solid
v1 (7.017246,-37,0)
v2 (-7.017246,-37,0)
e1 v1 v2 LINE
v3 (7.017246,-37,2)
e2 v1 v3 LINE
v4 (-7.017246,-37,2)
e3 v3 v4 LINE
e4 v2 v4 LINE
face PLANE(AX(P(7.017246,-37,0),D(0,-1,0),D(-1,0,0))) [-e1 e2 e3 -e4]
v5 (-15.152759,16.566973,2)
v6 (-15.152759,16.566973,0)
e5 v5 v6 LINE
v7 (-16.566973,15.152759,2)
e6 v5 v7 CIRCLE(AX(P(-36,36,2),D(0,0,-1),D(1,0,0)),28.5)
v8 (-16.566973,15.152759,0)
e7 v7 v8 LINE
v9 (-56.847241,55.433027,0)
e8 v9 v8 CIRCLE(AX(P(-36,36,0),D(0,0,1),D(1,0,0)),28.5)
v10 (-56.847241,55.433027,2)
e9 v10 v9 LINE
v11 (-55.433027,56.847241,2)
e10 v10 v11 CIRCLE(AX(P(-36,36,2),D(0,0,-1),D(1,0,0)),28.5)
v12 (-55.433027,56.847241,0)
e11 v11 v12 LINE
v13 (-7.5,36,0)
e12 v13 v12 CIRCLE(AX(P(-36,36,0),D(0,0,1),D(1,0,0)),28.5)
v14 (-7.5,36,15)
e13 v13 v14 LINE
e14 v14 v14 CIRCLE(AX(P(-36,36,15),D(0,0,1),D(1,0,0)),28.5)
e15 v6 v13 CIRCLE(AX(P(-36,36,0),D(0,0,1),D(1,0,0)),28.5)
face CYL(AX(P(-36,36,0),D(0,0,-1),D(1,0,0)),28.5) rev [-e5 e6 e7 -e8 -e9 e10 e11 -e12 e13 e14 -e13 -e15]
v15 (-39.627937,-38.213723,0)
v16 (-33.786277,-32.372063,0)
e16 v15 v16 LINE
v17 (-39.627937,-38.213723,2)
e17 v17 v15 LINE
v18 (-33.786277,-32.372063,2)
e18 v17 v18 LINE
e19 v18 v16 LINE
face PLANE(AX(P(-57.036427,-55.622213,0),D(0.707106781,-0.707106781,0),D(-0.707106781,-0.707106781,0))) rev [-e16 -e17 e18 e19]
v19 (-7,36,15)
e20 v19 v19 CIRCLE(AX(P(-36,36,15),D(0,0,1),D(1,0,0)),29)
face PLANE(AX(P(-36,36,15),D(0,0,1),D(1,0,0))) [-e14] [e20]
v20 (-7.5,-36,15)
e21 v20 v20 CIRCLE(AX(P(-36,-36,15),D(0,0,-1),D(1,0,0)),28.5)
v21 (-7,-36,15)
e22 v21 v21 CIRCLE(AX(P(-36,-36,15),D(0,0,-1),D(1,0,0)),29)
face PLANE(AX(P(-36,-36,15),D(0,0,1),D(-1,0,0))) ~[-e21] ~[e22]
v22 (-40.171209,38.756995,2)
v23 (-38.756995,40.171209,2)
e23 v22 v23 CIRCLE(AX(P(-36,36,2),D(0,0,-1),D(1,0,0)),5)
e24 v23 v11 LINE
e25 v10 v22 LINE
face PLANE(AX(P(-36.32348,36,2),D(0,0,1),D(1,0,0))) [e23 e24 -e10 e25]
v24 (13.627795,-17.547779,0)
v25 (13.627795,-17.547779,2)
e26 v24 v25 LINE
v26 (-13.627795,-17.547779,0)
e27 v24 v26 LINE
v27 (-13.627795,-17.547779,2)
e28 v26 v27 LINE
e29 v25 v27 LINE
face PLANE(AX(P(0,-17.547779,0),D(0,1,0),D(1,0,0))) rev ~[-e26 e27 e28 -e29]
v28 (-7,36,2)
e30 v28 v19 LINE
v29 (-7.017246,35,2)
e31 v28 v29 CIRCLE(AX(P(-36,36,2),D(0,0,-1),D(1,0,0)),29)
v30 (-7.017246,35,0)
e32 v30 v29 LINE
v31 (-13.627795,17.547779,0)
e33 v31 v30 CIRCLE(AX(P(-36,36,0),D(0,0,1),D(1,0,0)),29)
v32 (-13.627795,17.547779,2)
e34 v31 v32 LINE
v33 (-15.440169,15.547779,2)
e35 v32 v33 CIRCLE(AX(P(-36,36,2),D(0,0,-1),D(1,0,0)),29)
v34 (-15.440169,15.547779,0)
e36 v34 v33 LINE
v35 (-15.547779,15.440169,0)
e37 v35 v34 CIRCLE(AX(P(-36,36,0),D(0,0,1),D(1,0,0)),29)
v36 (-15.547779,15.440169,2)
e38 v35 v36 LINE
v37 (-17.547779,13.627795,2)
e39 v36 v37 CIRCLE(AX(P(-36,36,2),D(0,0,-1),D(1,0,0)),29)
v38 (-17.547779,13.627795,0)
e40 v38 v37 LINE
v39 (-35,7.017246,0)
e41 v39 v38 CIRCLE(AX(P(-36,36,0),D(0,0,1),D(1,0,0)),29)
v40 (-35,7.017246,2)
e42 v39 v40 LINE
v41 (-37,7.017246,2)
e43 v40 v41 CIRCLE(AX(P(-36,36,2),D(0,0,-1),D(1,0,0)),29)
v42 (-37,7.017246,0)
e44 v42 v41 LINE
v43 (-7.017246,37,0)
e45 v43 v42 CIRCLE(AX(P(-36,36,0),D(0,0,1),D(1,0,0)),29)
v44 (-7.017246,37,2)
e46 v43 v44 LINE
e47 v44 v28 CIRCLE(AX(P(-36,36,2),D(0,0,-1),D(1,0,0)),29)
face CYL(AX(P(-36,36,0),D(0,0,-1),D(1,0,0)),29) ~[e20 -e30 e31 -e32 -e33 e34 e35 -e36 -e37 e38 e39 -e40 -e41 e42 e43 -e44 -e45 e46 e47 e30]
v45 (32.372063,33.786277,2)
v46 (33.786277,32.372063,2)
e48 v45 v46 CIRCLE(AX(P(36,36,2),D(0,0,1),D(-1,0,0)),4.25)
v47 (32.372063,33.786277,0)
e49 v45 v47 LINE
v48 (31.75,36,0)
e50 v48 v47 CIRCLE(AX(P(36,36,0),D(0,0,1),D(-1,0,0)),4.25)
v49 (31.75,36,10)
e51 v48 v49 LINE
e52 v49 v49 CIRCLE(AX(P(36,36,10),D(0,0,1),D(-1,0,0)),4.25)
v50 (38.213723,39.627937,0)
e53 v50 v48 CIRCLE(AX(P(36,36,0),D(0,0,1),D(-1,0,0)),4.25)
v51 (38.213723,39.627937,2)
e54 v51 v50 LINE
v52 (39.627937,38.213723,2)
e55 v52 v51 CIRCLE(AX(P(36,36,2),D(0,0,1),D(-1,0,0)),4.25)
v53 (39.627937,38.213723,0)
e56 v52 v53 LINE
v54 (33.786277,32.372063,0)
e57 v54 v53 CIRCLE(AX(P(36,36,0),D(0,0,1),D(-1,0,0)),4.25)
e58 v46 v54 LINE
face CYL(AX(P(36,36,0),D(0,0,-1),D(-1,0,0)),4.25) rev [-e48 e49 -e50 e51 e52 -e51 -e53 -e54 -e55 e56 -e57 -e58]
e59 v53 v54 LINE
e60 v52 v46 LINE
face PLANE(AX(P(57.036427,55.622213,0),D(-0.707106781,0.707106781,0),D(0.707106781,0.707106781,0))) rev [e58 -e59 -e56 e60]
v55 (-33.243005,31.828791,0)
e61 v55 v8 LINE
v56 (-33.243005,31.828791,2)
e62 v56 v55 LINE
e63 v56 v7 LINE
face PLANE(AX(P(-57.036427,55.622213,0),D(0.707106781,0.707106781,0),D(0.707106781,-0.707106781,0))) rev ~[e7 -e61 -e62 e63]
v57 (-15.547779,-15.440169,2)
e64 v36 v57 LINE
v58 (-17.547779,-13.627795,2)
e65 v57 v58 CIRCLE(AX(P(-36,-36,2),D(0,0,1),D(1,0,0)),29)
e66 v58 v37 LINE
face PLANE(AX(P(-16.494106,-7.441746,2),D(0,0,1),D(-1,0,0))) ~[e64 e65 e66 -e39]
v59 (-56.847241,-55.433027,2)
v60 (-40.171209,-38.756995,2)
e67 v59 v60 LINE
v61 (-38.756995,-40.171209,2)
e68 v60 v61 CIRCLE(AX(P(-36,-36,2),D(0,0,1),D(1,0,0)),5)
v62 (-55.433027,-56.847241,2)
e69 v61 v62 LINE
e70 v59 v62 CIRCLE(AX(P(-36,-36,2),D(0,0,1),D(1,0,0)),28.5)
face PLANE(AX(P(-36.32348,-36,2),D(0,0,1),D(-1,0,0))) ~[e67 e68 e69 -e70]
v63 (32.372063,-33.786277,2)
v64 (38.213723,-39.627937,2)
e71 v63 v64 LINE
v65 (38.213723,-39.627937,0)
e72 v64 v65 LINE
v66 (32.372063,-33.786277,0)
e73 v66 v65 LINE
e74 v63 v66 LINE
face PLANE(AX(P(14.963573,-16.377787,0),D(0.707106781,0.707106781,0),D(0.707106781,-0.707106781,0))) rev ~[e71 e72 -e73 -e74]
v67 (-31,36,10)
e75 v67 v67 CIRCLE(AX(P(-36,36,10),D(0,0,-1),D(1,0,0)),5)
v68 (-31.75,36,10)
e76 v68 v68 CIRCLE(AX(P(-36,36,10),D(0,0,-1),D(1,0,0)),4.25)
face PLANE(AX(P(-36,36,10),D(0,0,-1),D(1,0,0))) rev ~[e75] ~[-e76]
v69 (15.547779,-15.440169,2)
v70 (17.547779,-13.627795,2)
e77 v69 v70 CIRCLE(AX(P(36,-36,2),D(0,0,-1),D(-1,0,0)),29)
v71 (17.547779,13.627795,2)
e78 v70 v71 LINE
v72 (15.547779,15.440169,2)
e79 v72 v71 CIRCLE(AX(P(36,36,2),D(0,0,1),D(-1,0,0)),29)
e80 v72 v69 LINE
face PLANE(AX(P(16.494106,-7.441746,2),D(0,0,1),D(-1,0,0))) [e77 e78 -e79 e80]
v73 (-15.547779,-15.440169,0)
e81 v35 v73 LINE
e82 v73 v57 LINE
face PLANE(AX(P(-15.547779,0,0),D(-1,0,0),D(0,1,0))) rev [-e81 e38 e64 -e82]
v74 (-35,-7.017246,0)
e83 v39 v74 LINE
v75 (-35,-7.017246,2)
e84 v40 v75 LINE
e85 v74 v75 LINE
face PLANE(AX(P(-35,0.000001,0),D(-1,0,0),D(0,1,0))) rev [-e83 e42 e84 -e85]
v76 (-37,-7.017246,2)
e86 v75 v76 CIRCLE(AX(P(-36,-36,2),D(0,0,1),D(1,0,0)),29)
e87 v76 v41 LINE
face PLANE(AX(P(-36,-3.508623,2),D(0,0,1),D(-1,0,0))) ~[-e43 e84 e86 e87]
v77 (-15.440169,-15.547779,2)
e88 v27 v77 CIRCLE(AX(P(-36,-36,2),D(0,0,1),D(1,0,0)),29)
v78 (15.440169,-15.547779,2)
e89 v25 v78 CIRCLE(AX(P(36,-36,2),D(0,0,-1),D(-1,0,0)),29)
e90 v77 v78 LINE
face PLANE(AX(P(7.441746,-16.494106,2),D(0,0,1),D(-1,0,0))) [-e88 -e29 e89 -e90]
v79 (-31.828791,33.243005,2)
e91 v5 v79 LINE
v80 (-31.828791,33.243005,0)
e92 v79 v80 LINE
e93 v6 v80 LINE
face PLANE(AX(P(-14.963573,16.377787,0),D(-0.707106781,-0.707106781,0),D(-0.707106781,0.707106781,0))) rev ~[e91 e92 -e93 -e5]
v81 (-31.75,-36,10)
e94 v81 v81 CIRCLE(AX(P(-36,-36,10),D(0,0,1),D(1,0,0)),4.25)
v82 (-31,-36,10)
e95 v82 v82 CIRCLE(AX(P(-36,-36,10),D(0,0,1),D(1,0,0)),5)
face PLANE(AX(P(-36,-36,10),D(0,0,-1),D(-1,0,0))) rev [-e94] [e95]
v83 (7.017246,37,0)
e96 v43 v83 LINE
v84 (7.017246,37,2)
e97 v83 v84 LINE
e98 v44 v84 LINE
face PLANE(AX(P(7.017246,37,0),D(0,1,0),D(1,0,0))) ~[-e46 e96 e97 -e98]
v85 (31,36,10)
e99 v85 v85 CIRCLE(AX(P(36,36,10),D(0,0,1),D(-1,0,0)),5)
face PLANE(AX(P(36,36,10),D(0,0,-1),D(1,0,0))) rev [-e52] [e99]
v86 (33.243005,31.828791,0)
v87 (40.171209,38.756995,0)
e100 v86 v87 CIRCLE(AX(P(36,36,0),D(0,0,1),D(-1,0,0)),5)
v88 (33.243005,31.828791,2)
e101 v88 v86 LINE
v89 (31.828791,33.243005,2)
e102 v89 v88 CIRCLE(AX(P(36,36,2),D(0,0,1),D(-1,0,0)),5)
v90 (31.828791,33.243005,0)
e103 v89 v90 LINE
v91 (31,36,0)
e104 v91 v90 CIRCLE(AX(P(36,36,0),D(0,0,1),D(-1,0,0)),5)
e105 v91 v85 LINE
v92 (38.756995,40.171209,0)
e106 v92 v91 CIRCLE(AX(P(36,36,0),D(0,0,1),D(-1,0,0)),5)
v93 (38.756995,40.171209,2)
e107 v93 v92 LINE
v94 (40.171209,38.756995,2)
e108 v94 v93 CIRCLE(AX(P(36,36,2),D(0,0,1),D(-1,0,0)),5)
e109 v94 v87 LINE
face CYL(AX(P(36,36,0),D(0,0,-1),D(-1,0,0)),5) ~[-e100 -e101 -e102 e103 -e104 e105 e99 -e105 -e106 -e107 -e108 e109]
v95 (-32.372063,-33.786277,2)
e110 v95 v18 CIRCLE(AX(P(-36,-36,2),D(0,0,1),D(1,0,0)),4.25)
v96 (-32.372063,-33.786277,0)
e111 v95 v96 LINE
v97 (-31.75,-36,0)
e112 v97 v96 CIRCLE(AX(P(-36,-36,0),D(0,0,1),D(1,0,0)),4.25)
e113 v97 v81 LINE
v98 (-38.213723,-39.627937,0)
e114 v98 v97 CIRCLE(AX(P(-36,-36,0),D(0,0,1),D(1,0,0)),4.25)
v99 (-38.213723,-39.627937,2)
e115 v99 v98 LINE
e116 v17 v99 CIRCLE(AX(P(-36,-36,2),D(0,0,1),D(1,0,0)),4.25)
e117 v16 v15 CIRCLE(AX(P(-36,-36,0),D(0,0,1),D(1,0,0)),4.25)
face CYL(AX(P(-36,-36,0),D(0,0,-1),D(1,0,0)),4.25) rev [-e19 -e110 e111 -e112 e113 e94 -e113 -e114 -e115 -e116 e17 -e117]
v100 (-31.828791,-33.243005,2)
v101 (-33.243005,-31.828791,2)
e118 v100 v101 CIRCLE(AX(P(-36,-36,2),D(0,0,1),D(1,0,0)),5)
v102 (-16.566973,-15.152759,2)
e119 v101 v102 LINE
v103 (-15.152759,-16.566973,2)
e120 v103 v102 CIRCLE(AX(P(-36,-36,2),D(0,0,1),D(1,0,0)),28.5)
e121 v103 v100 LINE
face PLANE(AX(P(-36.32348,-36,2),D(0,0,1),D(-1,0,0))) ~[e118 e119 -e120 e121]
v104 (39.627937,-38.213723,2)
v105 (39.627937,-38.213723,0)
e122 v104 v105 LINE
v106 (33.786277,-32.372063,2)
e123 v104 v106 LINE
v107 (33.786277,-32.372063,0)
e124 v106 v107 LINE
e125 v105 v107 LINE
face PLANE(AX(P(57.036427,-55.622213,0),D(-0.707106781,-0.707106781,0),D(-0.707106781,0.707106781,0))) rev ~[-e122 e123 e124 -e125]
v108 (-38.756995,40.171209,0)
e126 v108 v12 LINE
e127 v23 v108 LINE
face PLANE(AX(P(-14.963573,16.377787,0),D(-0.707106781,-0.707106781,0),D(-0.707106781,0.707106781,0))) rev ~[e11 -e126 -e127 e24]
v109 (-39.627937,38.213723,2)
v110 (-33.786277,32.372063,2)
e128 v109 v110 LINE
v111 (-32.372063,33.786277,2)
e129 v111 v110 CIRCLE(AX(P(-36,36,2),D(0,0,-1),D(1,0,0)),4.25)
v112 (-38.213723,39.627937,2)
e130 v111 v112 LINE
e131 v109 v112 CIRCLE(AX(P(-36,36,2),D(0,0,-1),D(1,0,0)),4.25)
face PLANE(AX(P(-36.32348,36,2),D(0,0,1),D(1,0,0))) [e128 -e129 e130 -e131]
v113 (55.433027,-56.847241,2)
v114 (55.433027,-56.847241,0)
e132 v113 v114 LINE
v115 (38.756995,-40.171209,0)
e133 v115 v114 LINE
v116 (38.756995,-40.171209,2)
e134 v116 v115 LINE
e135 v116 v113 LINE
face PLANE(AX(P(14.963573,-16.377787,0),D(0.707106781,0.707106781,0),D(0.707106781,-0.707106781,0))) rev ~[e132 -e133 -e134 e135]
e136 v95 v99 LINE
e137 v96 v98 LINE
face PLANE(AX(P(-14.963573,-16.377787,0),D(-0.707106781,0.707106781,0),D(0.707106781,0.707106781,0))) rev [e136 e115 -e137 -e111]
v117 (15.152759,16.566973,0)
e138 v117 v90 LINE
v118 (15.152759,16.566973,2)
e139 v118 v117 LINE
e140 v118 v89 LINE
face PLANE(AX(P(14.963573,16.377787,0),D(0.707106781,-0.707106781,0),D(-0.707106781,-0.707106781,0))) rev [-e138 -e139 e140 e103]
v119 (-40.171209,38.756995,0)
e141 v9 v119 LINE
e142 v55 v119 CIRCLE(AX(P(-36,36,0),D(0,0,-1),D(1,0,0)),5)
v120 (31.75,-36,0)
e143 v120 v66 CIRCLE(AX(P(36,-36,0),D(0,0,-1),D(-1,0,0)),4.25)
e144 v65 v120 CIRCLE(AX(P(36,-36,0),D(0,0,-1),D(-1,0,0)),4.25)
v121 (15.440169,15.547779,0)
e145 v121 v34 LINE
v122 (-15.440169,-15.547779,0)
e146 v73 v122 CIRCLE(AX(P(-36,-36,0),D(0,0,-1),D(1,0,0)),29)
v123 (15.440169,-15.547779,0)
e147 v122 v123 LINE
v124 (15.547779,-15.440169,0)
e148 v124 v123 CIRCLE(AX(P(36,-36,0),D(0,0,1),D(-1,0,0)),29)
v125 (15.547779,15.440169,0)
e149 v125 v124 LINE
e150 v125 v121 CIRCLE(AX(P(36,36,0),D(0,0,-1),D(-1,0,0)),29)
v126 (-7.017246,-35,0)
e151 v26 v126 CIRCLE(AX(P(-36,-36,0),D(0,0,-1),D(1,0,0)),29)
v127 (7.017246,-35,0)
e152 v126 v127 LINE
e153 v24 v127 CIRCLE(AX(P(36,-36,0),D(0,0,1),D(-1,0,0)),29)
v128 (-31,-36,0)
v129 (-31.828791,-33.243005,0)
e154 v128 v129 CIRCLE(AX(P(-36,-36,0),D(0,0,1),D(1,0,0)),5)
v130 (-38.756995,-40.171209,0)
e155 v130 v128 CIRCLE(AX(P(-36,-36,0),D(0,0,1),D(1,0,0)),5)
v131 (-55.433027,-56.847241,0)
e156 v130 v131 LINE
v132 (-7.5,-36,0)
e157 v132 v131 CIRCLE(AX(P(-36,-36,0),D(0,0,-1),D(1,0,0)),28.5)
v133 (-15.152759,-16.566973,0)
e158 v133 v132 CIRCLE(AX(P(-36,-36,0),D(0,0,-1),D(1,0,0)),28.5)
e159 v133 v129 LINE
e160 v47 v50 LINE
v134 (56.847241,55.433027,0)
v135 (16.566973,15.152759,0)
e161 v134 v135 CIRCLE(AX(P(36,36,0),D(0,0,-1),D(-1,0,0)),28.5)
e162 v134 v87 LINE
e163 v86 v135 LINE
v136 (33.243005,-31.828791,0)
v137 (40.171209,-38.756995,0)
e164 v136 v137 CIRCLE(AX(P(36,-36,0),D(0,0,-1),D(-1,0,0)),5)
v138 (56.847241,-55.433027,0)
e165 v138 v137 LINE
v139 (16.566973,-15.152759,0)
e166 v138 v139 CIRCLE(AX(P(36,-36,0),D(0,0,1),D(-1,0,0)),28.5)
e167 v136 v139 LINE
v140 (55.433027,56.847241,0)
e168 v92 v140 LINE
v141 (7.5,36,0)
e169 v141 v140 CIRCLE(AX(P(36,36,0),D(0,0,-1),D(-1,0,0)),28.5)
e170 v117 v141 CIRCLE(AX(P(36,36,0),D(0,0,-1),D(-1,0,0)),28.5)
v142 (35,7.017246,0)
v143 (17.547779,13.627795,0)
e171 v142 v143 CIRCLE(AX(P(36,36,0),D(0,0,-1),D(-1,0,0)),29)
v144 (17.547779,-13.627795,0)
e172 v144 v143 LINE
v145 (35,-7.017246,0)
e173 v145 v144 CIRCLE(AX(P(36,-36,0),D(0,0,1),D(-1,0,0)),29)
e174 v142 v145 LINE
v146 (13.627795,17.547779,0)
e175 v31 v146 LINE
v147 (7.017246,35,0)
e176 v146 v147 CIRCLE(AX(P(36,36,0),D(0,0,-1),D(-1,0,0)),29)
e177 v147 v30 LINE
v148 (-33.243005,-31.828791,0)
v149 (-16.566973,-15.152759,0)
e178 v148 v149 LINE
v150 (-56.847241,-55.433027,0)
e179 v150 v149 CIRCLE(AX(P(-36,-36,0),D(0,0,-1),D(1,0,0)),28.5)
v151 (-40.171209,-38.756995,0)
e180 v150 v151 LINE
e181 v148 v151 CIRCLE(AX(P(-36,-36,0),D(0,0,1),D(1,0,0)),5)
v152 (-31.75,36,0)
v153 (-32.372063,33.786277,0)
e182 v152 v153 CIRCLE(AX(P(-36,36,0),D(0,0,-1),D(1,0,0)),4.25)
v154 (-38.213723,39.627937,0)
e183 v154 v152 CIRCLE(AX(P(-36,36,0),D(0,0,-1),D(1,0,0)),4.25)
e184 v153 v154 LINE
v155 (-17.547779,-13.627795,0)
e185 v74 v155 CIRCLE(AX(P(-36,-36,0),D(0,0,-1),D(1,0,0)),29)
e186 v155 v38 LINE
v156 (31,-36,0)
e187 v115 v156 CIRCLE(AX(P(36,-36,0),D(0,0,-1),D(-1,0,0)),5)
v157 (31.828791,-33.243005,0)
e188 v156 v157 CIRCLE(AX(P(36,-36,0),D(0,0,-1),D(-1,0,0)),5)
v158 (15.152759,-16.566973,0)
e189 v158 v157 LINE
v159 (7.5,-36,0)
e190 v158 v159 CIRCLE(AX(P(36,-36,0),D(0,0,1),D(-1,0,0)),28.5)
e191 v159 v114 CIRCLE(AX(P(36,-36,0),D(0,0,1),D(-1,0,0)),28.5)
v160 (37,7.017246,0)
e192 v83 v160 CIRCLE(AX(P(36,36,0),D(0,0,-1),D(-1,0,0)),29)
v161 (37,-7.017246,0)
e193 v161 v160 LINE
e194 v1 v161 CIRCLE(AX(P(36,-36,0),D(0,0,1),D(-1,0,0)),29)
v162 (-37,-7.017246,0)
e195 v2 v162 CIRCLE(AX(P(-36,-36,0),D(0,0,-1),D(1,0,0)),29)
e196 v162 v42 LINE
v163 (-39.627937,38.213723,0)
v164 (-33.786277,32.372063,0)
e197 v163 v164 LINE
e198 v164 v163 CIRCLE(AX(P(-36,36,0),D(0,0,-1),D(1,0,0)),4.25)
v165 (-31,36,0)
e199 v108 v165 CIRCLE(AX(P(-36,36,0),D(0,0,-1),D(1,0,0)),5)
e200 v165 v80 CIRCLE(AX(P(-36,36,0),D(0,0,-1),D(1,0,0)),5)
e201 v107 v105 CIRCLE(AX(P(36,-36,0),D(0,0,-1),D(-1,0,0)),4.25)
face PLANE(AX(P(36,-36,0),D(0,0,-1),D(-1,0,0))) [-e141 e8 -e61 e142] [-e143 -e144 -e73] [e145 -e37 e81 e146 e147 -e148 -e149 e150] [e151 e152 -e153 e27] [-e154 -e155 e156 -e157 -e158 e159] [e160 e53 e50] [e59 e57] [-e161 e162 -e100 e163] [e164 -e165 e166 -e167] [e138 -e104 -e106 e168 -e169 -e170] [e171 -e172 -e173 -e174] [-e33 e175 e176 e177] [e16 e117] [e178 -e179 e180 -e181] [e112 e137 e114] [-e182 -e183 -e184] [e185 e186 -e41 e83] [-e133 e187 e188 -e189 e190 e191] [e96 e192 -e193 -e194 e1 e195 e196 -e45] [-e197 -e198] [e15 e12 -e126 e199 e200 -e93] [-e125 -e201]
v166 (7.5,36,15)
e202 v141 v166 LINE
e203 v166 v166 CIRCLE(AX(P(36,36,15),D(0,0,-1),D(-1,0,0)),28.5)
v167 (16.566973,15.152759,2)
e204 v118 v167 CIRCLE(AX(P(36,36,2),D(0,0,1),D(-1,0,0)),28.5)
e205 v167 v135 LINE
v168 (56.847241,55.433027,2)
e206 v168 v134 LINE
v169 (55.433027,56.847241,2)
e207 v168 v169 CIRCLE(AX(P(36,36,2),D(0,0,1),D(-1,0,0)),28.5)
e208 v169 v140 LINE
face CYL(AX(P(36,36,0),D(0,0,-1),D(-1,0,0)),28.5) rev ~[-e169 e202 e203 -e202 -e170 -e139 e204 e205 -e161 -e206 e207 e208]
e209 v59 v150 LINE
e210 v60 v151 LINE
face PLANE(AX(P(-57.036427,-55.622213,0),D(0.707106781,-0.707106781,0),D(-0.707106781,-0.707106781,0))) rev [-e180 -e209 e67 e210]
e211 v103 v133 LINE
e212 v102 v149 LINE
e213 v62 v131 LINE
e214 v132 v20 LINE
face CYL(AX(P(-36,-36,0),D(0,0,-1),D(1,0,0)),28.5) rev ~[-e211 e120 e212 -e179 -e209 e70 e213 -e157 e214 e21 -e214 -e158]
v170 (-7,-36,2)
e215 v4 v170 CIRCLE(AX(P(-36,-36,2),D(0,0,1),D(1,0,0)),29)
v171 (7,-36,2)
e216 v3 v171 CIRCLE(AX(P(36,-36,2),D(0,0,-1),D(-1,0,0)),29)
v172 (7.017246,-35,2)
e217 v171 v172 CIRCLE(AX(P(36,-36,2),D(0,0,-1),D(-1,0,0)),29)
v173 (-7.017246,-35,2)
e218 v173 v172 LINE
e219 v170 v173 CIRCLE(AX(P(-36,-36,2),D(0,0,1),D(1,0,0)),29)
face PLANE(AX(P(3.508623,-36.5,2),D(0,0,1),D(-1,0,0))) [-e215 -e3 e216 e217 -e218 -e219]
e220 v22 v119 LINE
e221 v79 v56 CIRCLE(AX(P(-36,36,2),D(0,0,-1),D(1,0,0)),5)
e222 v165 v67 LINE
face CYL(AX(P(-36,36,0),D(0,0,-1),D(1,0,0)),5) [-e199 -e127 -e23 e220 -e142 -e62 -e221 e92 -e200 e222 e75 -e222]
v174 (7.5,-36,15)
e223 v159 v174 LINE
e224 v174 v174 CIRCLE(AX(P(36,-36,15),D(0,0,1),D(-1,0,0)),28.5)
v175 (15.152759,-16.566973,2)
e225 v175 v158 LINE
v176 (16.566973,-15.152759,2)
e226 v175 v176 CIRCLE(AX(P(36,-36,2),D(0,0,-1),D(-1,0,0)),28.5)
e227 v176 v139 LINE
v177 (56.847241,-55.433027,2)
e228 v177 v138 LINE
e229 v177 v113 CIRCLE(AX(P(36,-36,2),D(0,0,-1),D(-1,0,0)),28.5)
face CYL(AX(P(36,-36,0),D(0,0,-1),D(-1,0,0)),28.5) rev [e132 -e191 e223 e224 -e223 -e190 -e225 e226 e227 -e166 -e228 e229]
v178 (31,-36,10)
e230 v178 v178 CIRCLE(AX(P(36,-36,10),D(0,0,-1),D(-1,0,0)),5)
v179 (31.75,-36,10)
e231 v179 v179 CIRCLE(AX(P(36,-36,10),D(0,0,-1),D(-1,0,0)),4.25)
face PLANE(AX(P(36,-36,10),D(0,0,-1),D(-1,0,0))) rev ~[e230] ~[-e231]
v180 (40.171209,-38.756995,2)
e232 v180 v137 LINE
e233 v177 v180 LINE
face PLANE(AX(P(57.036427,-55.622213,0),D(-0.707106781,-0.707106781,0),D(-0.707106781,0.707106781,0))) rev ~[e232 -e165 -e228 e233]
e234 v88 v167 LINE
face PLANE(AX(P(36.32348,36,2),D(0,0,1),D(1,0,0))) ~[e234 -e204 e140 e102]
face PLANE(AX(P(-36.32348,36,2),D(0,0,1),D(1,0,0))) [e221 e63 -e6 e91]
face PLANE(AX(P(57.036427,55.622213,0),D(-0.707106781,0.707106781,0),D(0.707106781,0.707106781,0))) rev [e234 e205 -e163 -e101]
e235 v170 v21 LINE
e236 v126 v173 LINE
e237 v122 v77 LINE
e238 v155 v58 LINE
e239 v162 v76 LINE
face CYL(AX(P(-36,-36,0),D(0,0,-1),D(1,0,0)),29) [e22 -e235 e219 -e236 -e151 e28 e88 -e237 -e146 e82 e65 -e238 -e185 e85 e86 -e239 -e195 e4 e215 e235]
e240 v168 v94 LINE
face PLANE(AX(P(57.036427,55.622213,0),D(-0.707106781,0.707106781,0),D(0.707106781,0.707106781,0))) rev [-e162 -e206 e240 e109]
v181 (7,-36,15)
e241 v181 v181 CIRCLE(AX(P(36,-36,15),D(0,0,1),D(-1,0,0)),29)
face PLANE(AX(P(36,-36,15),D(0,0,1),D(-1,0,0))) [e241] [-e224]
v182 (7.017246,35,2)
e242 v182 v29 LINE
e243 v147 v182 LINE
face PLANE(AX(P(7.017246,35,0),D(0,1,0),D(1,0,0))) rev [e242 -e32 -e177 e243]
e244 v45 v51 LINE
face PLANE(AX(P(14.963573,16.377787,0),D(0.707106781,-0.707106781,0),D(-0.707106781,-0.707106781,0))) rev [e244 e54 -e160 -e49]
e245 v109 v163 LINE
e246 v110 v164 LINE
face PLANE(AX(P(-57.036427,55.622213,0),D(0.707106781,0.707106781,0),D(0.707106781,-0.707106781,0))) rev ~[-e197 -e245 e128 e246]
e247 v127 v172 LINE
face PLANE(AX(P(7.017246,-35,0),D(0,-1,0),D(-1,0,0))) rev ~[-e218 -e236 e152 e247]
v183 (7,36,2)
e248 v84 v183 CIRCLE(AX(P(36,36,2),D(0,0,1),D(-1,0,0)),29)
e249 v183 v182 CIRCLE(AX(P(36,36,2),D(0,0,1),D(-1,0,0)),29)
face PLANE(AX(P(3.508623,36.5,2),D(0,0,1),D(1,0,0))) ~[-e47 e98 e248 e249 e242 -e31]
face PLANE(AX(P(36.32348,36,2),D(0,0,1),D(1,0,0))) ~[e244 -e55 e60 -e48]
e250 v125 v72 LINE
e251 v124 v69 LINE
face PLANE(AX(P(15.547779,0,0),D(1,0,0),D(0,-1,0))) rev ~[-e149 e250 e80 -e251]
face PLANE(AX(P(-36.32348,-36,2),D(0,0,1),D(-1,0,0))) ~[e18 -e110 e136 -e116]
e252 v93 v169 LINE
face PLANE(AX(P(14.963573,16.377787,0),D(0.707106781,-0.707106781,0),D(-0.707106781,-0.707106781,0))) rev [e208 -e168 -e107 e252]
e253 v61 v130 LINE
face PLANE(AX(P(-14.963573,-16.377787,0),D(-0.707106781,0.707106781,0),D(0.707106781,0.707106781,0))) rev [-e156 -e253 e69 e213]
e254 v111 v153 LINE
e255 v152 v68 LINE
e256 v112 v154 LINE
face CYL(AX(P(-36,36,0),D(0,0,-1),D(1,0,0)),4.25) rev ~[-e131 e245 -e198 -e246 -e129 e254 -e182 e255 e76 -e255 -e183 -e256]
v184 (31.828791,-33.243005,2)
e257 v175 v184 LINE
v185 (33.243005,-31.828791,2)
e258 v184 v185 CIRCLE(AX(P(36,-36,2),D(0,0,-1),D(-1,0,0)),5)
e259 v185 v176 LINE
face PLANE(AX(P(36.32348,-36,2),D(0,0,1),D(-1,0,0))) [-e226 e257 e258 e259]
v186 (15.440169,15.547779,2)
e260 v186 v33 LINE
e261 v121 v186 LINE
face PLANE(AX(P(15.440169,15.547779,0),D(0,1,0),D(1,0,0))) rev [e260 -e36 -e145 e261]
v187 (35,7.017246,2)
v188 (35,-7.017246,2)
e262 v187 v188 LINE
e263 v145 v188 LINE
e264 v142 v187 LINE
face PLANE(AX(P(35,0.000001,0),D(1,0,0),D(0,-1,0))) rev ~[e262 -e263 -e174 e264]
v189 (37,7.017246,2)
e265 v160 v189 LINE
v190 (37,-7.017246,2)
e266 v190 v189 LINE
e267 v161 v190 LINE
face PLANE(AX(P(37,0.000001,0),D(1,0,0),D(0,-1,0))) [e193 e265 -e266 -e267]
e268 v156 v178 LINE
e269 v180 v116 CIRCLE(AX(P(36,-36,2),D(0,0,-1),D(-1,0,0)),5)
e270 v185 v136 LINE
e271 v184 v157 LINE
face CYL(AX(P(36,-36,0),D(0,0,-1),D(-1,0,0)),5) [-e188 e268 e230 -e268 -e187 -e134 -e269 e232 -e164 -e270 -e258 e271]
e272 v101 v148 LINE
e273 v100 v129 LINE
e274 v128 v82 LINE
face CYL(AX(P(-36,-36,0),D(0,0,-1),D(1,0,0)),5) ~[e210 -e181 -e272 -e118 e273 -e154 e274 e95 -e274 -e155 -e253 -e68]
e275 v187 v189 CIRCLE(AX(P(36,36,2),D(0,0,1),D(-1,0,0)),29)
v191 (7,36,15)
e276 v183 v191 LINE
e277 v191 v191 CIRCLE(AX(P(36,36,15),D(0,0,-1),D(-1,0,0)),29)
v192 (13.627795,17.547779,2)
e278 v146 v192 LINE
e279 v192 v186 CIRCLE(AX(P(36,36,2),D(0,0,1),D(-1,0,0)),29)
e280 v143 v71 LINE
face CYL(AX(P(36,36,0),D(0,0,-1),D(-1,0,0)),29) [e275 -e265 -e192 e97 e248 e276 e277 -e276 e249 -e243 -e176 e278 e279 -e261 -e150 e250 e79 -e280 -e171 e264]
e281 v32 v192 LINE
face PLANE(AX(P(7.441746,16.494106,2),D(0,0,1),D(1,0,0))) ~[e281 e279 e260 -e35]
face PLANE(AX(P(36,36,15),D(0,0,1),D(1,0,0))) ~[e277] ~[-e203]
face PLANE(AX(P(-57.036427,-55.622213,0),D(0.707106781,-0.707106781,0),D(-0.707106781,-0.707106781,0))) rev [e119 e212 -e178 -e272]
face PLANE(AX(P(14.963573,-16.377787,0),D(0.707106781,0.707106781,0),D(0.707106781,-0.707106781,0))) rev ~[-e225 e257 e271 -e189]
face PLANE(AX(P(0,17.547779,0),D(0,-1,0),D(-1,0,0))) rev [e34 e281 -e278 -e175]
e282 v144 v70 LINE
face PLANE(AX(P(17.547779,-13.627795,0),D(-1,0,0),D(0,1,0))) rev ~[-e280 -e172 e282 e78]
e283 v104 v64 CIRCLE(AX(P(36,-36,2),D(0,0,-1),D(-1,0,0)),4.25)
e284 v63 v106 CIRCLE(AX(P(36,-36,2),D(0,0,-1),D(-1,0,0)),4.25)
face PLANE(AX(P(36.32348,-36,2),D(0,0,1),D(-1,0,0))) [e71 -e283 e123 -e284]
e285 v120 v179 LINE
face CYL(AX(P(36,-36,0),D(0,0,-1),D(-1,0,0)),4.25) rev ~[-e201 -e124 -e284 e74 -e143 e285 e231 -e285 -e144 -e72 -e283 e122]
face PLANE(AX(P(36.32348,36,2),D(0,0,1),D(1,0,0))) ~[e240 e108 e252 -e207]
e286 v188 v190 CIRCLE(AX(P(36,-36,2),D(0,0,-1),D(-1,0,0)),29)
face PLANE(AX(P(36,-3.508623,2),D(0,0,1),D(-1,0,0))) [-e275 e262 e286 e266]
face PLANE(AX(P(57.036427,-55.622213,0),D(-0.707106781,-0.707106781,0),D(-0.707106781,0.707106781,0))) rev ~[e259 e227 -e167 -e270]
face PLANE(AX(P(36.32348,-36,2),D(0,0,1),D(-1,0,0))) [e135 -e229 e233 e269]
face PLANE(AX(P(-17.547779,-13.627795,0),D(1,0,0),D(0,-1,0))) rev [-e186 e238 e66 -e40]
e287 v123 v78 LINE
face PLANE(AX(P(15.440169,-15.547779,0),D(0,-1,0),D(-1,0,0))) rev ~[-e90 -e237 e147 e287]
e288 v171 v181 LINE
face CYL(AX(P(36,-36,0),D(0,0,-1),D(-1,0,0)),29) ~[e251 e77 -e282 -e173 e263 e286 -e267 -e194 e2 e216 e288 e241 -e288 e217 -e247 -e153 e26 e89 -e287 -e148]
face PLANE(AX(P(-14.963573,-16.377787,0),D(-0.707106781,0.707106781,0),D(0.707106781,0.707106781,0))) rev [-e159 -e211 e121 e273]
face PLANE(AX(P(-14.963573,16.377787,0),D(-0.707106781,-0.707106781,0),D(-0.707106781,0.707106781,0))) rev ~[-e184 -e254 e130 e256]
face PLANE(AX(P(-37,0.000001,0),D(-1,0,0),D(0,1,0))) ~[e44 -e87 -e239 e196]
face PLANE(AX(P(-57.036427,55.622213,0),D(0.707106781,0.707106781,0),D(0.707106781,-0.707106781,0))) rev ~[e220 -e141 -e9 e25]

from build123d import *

# Parameters (mm, degrees)
F1_R     = 29
F1_R_2   = 28.5
F2_DEPTH = 15
F3_W     = 7.017247
F3_H     = 1
F3_W_2   = 2
F3_H_2   = 7.017247
F4_DEPTH = 2
F5_R     = 5
F5_R_2   = 4.25
F6_DEPTH = 10


with BuildPart() as f2:
    # F1 (on Top) → F2 (new body)
    with BuildSketch(Plane.XY):
        with Locations((-36, 36)):
            Circle(F1_R)
        with Locations((-36, 36)):
            Circle(F1_R_2, mode=Mode.SUBTRACT)
    extrude(amount=F2_DEPTH)

    # F3 (on Top) → F4 (join)
    with BuildSketch(Plane.XY):
        Polygon((-16.377787, 14.963573), (-15.67068, 15.67068), (-36, 36), (-34.585786, 36), (-35.292893, 36.707107), (-55.622213, 57.036427), (-57.036427, 55.622213), (-36.707107, 35.292893), align=None)
        Polygon((-36, 36), (-15.67068, 15.67068), (-14.963573, 16.377787), (-34.585786, 36), align=None)
        with Locations((-3.508623, 36.5)):
            Rectangle(F3_W, F3_H)
        with Locations((-3.508623, 35.5)):
            Rectangle(F3_W, F3_H)
        with Locations((-36, 3.508623)):
            Rectangle(F3_W_2, F3_H_2)
        Polygon((-17.547779, 13.627795), (-17.547779, 0), (-15.547779, 0), (-15.547779, 15.440169), align=None)
        Polygon((0, 15.547779), (0, 17.547779), (-13.627795, 17.547779), (-15.440169, 15.547779), align=None)
    extrude(amount=F4_DEPTH)

    # F5 (on face) → F6 (join)
    with BuildSketch(Plane(origin=(0, 0, 0), x_dir=(1, 0, 0), z_dir=(0, 0, -1))):
        with Locations((-36, -36)):
            Circle(F5_R)
        with Locations((-36, -36)):
            Circle(F5_R_2, mode=Mode.SUBTRACT)
    extrude(amount=-F6_DEPTH)

    # F8: F2 across plane


with BuildPart() as f2_1:
    add(f2.part)
    add(f2.part.mirror(Plane.XZ))

    # F9: F2 across plane


with BuildPart() as f2_2:
    add(f2_1.part)
    add(f2_1.part.mirror(Plane.YZ))


solid = f2_2.part
